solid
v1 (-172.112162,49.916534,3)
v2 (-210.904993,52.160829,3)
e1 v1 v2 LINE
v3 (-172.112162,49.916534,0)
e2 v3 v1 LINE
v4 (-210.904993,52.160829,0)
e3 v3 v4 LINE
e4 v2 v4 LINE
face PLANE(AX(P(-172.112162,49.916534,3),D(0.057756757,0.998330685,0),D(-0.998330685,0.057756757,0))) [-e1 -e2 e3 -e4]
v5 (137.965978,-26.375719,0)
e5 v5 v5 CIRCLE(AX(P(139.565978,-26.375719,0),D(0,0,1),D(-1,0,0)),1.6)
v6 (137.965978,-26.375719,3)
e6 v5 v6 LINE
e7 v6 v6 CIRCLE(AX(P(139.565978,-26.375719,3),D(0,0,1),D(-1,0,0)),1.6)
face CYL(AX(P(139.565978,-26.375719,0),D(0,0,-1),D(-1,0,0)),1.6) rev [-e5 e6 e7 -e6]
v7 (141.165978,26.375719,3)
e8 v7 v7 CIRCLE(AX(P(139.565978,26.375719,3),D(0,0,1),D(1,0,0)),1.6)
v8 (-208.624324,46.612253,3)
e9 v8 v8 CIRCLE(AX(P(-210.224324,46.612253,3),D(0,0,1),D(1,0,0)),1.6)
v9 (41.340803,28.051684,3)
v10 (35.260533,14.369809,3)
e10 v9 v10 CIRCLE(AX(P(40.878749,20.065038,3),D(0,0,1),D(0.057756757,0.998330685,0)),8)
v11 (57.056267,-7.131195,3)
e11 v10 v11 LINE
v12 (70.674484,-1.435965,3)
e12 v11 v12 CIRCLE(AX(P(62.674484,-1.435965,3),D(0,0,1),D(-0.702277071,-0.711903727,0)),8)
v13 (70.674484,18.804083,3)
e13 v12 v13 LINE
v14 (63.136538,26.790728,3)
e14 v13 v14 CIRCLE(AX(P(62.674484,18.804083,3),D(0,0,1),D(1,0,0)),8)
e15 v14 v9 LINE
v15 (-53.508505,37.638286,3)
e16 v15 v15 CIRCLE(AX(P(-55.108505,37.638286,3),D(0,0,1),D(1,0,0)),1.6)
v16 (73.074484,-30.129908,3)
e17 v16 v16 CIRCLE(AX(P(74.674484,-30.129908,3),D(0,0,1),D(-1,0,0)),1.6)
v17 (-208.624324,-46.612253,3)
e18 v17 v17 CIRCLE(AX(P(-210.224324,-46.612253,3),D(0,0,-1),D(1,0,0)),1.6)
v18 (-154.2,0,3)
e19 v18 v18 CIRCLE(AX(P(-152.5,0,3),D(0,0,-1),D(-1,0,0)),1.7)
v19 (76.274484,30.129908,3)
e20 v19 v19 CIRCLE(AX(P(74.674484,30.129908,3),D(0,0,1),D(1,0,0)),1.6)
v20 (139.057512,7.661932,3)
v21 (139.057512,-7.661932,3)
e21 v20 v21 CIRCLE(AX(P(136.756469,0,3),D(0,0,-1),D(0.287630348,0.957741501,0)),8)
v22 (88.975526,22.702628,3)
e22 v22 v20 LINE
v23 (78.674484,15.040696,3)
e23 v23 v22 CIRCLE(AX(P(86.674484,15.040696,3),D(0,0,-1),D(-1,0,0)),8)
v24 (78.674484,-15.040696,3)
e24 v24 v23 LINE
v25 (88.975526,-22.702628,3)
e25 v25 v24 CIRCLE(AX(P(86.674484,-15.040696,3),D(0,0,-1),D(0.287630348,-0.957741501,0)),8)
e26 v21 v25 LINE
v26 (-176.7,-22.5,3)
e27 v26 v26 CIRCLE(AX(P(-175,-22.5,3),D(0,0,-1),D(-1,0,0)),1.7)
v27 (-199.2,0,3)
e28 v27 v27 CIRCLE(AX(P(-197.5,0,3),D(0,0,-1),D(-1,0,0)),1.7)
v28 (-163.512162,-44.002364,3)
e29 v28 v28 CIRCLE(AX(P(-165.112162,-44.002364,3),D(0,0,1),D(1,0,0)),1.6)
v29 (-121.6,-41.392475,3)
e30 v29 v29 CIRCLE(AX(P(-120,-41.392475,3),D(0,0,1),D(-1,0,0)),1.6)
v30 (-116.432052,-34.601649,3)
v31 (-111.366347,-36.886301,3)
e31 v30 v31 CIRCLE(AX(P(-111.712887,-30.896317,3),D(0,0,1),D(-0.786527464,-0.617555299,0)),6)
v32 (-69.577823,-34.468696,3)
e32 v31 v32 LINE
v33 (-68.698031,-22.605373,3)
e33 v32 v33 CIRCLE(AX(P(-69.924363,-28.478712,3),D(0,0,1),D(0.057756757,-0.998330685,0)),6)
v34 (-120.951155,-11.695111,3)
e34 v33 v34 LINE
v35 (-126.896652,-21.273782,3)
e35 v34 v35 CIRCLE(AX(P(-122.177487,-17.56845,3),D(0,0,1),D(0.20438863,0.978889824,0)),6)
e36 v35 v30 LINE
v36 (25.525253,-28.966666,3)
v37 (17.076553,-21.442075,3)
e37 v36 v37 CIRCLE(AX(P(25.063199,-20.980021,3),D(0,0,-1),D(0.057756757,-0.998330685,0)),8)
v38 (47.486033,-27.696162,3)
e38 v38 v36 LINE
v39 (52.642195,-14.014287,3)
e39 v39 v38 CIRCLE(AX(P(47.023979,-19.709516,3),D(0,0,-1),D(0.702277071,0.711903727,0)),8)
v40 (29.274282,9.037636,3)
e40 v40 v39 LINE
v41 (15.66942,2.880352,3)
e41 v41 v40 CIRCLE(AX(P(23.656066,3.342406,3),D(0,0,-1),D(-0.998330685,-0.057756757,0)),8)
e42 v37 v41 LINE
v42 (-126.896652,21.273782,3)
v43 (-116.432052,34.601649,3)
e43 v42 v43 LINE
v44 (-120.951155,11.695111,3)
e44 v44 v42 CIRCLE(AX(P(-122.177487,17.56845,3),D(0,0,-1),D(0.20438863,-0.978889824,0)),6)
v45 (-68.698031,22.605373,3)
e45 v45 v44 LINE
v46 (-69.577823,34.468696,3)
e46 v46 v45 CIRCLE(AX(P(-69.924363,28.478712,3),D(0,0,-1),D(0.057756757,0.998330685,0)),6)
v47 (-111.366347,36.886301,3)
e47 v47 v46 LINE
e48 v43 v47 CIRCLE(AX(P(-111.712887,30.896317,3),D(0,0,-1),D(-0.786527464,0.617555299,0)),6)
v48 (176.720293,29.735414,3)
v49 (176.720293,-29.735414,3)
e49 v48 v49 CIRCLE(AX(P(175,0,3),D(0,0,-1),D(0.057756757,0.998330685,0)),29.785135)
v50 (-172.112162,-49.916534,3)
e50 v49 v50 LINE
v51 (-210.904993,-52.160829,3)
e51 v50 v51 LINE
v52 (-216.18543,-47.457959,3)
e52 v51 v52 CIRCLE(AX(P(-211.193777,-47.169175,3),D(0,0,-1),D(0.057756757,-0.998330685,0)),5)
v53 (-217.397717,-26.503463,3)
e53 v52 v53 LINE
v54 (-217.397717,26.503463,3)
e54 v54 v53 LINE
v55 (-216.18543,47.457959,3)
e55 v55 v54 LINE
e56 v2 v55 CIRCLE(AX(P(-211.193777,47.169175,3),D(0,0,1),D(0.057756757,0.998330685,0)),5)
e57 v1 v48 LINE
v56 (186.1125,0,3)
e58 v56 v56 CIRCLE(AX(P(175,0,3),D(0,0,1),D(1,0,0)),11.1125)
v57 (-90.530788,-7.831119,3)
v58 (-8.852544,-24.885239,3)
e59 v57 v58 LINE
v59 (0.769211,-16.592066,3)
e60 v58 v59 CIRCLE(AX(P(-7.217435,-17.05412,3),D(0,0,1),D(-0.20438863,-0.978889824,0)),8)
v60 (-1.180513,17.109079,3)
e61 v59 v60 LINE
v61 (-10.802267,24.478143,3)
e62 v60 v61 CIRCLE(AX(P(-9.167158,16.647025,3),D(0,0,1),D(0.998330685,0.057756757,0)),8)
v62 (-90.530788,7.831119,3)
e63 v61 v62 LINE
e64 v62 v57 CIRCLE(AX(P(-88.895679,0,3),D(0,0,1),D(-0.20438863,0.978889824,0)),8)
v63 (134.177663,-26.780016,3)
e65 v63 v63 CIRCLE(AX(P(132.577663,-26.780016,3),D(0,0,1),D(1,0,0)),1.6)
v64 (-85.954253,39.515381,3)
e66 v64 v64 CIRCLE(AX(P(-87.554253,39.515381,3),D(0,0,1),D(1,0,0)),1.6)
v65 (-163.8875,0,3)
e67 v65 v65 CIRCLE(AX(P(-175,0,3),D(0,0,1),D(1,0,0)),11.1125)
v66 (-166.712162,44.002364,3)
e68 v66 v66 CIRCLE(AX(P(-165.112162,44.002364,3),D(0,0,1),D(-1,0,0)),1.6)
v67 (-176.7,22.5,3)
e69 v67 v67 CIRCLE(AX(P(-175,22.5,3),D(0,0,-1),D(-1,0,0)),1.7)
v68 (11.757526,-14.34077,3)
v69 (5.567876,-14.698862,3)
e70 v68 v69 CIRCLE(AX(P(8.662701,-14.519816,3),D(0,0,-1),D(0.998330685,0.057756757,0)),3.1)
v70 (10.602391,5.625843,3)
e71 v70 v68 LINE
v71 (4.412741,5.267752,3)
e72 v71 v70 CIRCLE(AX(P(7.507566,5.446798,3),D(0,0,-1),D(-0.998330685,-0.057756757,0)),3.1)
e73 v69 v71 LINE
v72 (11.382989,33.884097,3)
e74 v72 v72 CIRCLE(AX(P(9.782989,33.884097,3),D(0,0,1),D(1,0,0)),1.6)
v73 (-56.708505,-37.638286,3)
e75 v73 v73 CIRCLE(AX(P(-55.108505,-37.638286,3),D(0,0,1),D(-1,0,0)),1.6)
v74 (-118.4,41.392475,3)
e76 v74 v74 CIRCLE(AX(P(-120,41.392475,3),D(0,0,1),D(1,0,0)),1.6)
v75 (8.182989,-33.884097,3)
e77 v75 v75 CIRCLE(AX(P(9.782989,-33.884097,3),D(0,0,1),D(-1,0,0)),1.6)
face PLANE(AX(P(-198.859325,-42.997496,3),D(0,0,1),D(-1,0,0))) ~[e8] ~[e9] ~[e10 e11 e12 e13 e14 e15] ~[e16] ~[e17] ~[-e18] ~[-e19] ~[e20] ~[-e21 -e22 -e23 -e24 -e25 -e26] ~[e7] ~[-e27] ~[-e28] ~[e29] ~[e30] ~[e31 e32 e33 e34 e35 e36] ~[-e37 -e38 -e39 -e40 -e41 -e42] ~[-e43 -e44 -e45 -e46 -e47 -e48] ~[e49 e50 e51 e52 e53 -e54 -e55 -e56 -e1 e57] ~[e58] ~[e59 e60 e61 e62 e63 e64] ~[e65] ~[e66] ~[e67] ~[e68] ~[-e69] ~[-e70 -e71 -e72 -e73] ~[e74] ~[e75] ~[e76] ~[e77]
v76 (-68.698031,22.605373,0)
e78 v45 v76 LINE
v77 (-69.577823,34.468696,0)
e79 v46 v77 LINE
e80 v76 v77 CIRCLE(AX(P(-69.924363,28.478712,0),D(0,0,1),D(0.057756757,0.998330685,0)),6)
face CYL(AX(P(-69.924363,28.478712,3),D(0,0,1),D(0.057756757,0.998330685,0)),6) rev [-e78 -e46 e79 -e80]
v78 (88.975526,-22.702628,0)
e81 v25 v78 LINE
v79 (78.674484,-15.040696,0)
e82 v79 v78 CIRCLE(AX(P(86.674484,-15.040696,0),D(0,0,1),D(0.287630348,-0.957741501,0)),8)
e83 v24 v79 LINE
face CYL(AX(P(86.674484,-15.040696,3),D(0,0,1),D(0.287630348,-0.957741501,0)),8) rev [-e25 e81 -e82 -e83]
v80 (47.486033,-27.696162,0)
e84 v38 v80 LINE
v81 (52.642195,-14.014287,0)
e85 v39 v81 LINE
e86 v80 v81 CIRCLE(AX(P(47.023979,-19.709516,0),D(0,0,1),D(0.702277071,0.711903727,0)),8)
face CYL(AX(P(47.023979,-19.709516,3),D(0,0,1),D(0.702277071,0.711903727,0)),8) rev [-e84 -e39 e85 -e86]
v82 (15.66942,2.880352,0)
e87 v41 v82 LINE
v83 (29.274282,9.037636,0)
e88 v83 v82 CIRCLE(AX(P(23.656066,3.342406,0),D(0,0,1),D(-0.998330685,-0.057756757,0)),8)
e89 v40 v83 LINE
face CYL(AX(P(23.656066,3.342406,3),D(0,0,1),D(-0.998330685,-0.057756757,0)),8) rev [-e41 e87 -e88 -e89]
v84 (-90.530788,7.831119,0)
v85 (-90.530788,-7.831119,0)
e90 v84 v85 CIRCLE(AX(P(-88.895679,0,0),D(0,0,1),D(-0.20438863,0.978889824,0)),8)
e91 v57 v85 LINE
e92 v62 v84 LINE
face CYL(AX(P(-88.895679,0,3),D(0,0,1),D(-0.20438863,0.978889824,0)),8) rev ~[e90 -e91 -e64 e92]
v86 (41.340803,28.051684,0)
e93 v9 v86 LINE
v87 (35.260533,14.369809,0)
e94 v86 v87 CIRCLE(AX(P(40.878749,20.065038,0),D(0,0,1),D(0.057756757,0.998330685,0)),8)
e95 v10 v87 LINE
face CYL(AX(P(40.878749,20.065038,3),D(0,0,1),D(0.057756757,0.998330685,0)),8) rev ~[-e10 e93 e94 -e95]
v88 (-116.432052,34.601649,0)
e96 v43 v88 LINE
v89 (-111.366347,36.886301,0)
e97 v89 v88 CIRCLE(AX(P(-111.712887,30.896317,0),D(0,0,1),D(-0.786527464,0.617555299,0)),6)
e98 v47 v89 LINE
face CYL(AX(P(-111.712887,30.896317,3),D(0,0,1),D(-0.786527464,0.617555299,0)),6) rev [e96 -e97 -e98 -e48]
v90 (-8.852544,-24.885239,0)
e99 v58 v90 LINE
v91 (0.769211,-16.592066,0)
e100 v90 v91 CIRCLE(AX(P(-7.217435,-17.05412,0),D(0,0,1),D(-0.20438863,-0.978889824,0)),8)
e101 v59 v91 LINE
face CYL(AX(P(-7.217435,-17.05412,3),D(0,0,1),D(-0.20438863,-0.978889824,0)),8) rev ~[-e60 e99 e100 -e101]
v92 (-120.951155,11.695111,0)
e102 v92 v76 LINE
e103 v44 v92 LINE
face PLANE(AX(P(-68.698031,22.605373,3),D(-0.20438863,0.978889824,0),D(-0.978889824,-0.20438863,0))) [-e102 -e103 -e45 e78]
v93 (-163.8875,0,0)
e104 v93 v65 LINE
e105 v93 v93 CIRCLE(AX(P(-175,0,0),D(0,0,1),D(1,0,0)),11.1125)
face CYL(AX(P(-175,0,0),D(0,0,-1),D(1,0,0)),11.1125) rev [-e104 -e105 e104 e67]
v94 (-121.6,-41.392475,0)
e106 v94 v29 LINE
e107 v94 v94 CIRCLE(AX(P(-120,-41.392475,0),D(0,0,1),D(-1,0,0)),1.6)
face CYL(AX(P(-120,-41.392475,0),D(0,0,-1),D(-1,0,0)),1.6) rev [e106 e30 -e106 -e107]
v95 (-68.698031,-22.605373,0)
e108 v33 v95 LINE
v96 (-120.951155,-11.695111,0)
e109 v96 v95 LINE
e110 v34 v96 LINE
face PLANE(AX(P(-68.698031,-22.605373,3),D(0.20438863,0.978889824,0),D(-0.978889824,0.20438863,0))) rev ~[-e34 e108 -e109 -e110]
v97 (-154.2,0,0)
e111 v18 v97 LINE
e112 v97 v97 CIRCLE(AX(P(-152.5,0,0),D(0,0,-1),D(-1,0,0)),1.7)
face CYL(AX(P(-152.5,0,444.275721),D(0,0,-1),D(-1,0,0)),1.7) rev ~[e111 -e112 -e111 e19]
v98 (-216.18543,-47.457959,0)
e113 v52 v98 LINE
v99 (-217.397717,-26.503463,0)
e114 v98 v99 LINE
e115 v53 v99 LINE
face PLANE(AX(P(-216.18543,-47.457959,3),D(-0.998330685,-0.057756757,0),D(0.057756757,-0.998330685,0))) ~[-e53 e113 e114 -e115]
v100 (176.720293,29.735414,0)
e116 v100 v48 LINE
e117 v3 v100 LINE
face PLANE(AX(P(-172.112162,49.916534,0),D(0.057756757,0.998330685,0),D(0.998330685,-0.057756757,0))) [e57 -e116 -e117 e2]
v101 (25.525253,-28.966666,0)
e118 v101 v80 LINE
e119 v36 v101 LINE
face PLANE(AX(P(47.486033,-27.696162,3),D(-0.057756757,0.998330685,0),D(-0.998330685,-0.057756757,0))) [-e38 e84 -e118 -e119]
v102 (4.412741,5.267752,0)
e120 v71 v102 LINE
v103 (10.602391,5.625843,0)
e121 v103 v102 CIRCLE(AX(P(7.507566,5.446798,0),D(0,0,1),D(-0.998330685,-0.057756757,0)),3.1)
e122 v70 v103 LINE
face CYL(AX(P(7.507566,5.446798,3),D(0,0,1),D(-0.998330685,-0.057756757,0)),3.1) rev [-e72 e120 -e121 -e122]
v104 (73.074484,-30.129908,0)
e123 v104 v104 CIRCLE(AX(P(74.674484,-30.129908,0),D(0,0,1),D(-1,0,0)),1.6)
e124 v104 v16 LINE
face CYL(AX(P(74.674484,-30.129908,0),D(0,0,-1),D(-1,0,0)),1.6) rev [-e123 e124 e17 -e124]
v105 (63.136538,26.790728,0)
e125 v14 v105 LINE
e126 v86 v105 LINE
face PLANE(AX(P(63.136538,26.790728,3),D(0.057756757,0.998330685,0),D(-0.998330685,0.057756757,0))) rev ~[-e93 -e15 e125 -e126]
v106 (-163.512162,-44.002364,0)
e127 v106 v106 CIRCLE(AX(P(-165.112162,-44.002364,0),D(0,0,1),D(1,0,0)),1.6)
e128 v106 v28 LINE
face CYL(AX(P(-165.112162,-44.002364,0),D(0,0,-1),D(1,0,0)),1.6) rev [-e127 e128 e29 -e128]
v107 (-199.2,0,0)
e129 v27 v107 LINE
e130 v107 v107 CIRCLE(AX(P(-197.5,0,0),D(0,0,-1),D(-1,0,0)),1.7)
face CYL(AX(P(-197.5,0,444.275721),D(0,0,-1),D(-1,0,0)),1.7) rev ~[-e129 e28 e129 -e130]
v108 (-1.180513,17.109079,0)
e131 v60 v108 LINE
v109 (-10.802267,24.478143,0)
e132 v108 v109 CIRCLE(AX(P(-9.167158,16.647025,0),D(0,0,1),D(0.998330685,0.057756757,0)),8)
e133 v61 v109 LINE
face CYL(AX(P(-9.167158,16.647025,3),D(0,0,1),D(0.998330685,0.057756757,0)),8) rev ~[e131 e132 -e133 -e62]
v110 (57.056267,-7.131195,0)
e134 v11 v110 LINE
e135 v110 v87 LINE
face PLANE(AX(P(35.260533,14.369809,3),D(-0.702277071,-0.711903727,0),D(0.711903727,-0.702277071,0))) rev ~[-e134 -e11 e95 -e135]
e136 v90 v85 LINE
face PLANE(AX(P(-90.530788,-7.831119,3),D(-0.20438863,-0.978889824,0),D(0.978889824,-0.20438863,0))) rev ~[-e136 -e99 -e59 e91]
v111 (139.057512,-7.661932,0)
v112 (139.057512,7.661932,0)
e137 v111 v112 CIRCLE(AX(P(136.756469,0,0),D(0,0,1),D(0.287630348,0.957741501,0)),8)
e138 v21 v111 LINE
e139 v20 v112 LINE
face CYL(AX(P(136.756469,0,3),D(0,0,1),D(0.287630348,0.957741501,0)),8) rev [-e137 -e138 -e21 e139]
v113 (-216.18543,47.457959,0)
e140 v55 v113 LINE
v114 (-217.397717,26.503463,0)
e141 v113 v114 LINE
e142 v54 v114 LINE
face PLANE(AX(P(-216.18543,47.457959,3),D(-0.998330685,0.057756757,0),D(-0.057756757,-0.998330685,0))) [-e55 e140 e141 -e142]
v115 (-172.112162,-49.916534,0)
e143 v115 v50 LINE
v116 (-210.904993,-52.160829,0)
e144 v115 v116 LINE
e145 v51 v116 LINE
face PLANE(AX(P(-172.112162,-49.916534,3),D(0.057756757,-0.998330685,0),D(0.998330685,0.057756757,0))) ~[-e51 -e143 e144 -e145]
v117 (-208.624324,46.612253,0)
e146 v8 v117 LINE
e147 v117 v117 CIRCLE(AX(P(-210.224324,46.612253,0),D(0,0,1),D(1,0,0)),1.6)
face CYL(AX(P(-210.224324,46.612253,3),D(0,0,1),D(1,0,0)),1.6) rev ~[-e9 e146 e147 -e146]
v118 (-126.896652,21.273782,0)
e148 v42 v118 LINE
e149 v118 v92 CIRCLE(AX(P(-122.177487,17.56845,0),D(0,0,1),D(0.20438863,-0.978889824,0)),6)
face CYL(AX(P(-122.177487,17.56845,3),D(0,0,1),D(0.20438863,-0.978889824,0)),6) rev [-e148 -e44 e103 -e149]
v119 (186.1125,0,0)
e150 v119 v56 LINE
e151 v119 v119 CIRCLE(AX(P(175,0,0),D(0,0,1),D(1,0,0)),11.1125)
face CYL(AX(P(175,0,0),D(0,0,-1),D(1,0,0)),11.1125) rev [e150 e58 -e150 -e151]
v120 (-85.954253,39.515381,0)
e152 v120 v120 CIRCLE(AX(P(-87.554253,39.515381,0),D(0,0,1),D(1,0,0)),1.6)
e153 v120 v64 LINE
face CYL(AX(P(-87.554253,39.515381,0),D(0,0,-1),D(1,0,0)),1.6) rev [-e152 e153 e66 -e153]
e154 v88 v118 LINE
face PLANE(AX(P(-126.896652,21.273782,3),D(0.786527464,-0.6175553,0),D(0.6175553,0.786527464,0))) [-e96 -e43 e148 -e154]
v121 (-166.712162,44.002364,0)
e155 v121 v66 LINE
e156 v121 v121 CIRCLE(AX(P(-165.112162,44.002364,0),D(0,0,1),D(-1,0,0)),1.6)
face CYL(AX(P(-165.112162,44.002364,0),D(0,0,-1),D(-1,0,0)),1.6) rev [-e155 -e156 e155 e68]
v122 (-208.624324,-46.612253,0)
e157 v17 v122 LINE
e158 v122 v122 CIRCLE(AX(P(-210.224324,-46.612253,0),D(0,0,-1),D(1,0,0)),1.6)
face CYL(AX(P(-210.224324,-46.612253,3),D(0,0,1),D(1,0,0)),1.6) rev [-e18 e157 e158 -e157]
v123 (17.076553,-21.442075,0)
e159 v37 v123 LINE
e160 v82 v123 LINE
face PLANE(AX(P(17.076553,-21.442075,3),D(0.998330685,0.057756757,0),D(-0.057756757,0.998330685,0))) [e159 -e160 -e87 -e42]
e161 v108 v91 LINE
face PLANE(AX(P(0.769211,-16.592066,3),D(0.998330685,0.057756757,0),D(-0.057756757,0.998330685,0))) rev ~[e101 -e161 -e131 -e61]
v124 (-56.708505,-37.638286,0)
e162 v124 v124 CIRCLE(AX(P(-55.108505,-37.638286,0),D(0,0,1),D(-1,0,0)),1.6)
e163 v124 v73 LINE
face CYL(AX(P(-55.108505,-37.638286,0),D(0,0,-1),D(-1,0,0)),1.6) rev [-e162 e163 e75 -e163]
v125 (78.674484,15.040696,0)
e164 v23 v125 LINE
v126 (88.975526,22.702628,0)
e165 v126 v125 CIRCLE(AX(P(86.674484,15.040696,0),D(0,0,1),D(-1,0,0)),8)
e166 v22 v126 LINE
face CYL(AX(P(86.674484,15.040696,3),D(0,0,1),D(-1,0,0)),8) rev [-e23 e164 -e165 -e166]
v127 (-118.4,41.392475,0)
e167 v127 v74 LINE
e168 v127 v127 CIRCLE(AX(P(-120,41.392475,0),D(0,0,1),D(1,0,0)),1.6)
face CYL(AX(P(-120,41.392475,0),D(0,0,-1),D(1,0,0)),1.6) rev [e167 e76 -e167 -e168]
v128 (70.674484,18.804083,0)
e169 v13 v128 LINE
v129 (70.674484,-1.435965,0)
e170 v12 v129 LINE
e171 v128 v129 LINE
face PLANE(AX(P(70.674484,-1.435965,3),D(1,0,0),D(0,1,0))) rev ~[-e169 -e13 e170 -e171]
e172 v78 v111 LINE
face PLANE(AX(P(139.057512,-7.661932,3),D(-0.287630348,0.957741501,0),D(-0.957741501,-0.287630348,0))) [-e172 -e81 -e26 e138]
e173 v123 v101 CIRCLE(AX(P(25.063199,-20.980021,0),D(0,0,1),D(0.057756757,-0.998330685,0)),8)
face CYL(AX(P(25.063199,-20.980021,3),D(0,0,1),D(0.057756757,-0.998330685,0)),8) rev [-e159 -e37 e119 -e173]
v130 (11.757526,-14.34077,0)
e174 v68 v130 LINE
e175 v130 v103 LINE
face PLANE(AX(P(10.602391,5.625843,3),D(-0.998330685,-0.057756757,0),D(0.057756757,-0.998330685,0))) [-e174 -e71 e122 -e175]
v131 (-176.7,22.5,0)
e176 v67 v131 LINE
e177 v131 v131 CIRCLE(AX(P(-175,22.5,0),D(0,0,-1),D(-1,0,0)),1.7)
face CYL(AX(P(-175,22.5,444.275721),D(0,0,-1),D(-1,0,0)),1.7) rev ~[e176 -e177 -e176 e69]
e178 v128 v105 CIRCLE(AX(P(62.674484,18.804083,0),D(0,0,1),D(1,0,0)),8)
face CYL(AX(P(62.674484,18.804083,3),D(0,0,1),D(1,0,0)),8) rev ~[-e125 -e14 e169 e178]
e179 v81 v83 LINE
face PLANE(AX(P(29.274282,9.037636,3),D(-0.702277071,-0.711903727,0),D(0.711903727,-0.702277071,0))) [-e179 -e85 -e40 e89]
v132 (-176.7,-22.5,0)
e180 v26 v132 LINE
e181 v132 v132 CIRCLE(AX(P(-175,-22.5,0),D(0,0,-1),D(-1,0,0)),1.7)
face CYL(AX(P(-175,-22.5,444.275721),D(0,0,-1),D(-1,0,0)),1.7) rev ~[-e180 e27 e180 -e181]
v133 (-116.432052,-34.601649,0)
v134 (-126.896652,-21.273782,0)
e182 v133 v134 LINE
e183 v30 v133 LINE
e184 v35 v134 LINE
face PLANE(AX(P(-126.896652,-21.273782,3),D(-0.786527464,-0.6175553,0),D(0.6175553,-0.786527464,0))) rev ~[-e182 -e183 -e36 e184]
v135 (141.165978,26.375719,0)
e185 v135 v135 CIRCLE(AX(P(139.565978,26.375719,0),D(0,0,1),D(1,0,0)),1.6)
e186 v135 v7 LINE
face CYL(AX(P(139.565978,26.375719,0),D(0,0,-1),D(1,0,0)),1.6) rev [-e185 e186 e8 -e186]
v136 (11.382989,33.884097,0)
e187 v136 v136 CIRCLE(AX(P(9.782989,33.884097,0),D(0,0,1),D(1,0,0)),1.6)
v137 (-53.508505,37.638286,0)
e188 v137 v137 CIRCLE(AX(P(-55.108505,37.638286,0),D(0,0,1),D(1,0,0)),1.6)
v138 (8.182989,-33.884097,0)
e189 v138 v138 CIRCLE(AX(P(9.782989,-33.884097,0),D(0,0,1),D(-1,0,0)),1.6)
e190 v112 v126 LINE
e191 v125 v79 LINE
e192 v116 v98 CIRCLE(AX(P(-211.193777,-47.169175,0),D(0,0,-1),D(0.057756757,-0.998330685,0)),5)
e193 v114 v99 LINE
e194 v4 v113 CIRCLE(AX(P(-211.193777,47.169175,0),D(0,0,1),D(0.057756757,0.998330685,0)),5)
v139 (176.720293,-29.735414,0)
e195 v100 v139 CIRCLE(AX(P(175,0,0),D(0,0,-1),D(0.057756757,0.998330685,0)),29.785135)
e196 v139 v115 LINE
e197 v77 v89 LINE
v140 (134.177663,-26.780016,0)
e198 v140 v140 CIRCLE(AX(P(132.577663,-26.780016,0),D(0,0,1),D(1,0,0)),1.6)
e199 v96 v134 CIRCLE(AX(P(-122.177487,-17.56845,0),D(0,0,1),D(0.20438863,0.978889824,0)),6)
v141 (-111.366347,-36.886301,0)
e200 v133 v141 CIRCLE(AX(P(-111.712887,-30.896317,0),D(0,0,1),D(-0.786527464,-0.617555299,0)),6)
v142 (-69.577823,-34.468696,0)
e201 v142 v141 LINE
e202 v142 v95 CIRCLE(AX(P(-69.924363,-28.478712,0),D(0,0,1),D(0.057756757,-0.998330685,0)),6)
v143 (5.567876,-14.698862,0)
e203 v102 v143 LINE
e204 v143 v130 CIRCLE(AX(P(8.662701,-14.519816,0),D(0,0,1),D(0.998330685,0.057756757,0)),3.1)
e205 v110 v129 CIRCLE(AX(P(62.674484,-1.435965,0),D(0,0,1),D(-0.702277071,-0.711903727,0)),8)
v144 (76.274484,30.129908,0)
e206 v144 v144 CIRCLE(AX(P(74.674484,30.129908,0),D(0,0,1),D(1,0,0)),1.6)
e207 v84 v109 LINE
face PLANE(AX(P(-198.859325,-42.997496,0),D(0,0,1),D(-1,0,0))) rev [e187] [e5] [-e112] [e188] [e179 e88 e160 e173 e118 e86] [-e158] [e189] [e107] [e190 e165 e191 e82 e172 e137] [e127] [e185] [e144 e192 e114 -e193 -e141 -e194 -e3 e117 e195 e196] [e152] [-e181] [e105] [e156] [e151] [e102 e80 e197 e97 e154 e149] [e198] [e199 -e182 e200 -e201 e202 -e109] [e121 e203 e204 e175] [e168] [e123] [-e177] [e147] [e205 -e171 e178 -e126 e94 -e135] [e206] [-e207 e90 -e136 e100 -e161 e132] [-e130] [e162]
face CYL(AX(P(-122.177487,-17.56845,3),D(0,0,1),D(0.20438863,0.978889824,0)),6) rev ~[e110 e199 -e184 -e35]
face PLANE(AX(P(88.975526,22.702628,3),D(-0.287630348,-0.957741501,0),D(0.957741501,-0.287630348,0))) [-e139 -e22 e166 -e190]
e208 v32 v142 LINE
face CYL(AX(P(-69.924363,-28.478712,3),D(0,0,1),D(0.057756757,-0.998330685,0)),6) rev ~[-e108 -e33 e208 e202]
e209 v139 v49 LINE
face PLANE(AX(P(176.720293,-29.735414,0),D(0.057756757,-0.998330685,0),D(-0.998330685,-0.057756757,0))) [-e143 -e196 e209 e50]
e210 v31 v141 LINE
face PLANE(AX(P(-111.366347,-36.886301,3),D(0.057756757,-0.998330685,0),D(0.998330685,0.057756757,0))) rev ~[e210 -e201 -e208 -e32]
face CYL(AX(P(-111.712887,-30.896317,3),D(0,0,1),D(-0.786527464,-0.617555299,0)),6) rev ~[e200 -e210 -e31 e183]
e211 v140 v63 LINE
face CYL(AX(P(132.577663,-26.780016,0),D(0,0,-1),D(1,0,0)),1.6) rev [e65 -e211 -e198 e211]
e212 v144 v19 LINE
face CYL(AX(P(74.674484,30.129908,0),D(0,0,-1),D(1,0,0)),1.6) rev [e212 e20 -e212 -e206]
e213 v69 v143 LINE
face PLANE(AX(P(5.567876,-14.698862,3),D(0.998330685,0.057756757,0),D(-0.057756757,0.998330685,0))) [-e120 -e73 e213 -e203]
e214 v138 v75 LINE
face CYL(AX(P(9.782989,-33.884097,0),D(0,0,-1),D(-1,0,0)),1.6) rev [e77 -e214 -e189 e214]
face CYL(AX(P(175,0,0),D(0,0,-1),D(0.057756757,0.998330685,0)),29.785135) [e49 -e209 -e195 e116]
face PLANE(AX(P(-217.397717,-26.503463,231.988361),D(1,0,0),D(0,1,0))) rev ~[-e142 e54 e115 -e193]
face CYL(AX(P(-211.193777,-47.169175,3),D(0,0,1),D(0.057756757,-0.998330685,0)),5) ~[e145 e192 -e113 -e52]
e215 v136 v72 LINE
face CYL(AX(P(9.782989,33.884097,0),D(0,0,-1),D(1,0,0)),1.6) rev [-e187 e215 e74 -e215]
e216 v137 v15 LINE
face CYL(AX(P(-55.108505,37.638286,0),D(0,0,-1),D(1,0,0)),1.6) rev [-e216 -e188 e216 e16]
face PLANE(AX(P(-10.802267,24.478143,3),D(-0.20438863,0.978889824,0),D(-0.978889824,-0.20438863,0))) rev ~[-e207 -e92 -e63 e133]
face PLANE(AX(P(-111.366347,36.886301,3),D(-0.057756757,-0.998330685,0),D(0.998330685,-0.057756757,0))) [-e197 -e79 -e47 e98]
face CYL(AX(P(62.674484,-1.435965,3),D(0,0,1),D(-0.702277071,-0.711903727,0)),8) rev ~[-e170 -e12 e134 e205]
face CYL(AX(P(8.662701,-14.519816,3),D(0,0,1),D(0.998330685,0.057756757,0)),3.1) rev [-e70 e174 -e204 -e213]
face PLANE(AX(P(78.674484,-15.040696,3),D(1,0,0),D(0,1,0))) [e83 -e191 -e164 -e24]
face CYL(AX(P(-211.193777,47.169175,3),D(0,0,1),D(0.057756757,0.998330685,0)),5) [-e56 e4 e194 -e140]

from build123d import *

# Parameters (mm, degrees)
SKETCH1_R               = 11.1125
SKETCH1_R_2             = 1.6
BOSS_EXTRUDE1_DEPTH     = 3
M3_CLEARANCE_HOLE1_D    = 3.4
CUT_EXTRUDE1_DEPTH      = 10
SKETCH10_R              = 1.6
BOSS_EXTRUDE3_DEPTH     = 3
CUT_EXTRUDE2_DEPTH      = 231.98836087
CUT_EXTRUDE2_DEPTH_BACK = 231.98836087


with BuildPart() as part:
    # Sketch1 → Boss-Extrude1 (new body)
    with BuildSketch(Plane.XY):
        with BuildLine():
            Line((-172.112162162, 49.916534261), (176.720292805, 29.735414369))
            ThreePointArc((176.720292805, 29.735414369), (204.785135135, 0), (176.720292805, -29.735414369))
            Line((176.720292805, -29.735414369), (-172.112162162, -49.916534261))
            ThreePointArc((-172.112162162, -49.916534261), (-225, 0), (-172.112162162, 49.916534261))
        make_face()
        with Locations((175, 0)):
            Circle(SKETCH1_R, mode=Mode.SUBTRACT)
        with Locations((-175, 0)):
            Circle(SKETCH1_R, mode=Mode.SUBTRACT)
        with Locations((-120, 41.392475449)):
            Circle(SKETCH1_R_2, mode=Mode.SUBTRACT)
        with Locations((-55.108505461, 37.63828626)):
            Circle(SKETCH1_R_2, mode=Mode.SUBTRACT)
        with Locations((9.782989078, 33.884097071)):
            Circle(SKETCH1_R_2, mode=Mode.SUBTRACT)
        with Locations((74.674483618, 30.129907882)):
            Circle(SKETCH1_R_2, mode=Mode.SUBTRACT)
        with Locations((139.565978157, 26.375718693)):
            Circle(SKETCH1_R_2, mode=Mode.SUBTRACT)
        with Locations(Location((139.565978157, -26.375718693, 0), (0, 0, 180))):
            Circle(SKETCH1_R_2, mode=Mode.SUBTRACT)
        with Locations(Location((74.674483618, -30.129907882, 0), (0, 0, 180))):
            Circle(SKETCH1_R_2, mode=Mode.SUBTRACT)
        with Locations(Location((9.782989078, -33.884097071, 0), (0, 0, 180))):
            Circle(SKETCH1_R_2, mode=Mode.SUBTRACT)
        with Locations(Location((-55.108505461, -37.63828626, 0), (0, 0, 180))):
            Circle(SKETCH1_R_2, mode=Mode.SUBTRACT)
        with Locations(Location((-120, -41.392475449, 0), (0, 0, 180))):
            Circle(SKETCH1_R_2, mode=Mode.SUBTRACT)
        with Locations((-87.55425273, 39.515380855)):
            Circle(SKETCH1_R_2, mode=Mode.SUBTRACT)
        with Locations((-165.112162162, -44.002364352)):
            Circle(SKETCH1_R_2, mode=Mode.SUBTRACT)
        with Locations(Location((-165.112162162, 44.002364352, 0), (0, 0, 180))):
            Circle(SKETCH1_R_2, mode=Mode.SUBTRACT)
        with Locations((132.57766336, -26.78001599)):
            Circle(SKETCH1_R_2, mode=Mode.SUBTRACT)
    extrude(amount=BOSS_EXTRUDE1_DEPTH)

    # M3 Clearance Hole1 (through all)
    with Locations(Plane.XY.offset(3)):
        with Locations((-197.5, 0), (-175, 22.5), (-152.5, 0), (-175, -22.5)):
            Hole(M3_CLEARANCE_HOLE1_D / 2)

    # Sketch7 → Cut-Extrude1 (cut)
    with BuildSketch(Plane.XY.offset(3)):
        with BuildLine():
            Line((88.975526403, 22.70262828), (139.057512253, 7.661932008))
            ThreePointArc((139.057512253, 7.661932008), (144.756469468, 0), (139.057512253, -7.661932008))
            Line((139.057512253, -7.661932008), (88.975526403, -22.70262828))
            ThreePointArc((88.975526403, -22.70262828), (81.899985858, -21.459743798), (78.674483618, -15.040696272))
            Line((78.674483618, -15.040696272), (78.674483618, 15.040696272))
            ThreePointArc((78.674483618, 15.040696272), (81.899985858, 21.459743798), (88.975526403, 22.70262828))
        make_face()
        with BuildLine():
            Line((70.674483618, -1.435965036), (70.674483618, 18.804082595))
            ThreePointArc((70.674483618, 18.804082595), (68.492405602, 24.295146589), (63.136537672, 26.790728077))
            Line((63.136537672, 26.790728077), (41.340803255, 28.05168394))
            ThreePointArc((41.340803255, 28.05168394), (33.5681452, 23.313895048), (35.260532637, 14.369808645))
            Line((35.260532637, 14.369808645), (57.056267053, -7.13119485))
            ThreePointArc((57.056267053, -7.13119485), (65.761089155, -8.816538609), (70.674483618, -1.435965036))
        make_face()
        with BuildLine():
            Line((29.274282074, 9.037636121), (52.642195402, -14.014286633))
            ThreePointArc((52.642195402, -14.014286633), (54.510022559, -22.530712895), (47.486032892, -27.696161929))
            Line((47.486032892, -27.696161929), (25.525253015, -28.966666222))
            ThreePointArc((25.525253015, -28.966666222), (19.742509337, -26.954153474), (17.076553479, -21.442074794))
            Line((17.076553479, -21.442074794), (15.669420028, 2.880352253))
            ThreePointArc((15.669420028, 2.880352253), (20.357520369, 10.630725727), (29.274282074, 9.037636121))
        make_face()
        with BuildLine():
            Line((0.769210605, -16.592065878), (-1.180512913, 17.109078816))
            ThreePointArc((-1.180512913, 17.109078816), (-4.302872031, 22.998301654), (-10.802267436, 24.478143355))
            Line((-10.802267436, 24.478143355), (-90.530788222, 7.831118593))
            ThreePointArc((-90.530788222, 7.831118593), (-96.895679181, 0), (-90.530788222, -7.831118593))
            Line((-90.530788222, -7.831118593), (-8.852543917, -24.885238525))
            ThreePointArc((-8.852543917, -24.885238525), (-1.994439382, -23.113849139), (0.769210605, -16.592065878))
        make_face()
        with BuildLine():
            Line((5.567875781, -14.698862148), (4.412740646, 5.267751556))
            ThreePointArc((4.412740646, 5.267751556), (7.328519824, 8.541622626), (10.602390894, 5.625843448))
            Line((10.602390894, 5.625843448), (11.757526029, -14.340770256))
            ThreePointArc((11.757526029, -14.340770256), (8.841746851, -17.614641327), (5.567875781, -14.698862148))
        make_face()
        with BuildLine():
            Line((-126.896651592, 21.273781799), (-116.432051872, 34.601649091))
            ThreePointArc((-116.432051872, 34.601649091), (-114.179639962, 36.365789869), (-111.366346547, 36.886301404))
            Line((-111.366346547, 36.886301404), (-69.577822511, 34.468696042))
            ThreePointArc((-69.577822511, 34.468696042), (-63.940794692, 28.922456993), (-68.698031271, 22.605372985))
            Line((-68.698031271, 22.605372985), (-120.951155027, 11.695111055))
            ThreePointArc((-120.951155027, 11.695111055), (-127.275300447, 14.404228754), (-126.896651592, 21.273781799))
        make_face()
        with BuildLine():
            Line((-111.366346547, -36.886301404), (-69.577822511, -34.468696042))
            ThreePointArc((-69.577822511, -34.468696042), (-63.940794692, -28.922456993), (-68.698031271, -22.605372985))
            Line((-68.698031271, -22.605372985), (-120.951155027, -11.695111055))
            ThreePointArc((-120.951155027, -11.695111055), (-127.275300447, -14.404228754), (-126.896651592, -21.273781799))
            Line((-126.896651592, -21.273781799), (-116.432051872, -34.601649091))
            ThreePointArc((-116.432051872, -34.601649091), (-114.179639962, -36.365789869), (-111.366346547, -36.886301404))
        make_face()
    extrude(amount=-CUT_EXTRUDE1_DEPTH, mode=Mode.SUBTRACT)

    # Sketch10 → Boss-Extrude3 (add)
    with BuildSketch(Plane.XY.offset(3)):
        with BuildLine():
            Line((-172.112162162, 49.916534261), (-210.904992847, 52.160828781))
            ThreePointArc((-210.904992847, 52.160828781), (-214.519207646, 50.903008313), (-216.185430057, 47.457959138))
            Line((-216.185430057, 47.457959138), (-217.397717482, 26.503463026))
            Line((-217.397717482, 26.503463026), (-172.112162162, 49.916534261))
        make_face()
        with Locations((-210.224324324, 46.612253255)):
            Circle(SKETCH10_R, mode=Mode.SUBTRACT)
    boss_extrude3 = extrude(amount=-BOSS_EXTRUDE3_DEPTH)

    # Mirror1: Boss-Extrude3 across plane
    add(boss_extrude3.mirror(Plane.ZX))

    # Sketch11 → Cut-Extrude2 (cut, two sides: drawn at the far end of the back side and taken through both)
    with BuildSketch(Plane(origin=(0, 0, 0), x_dir=(-1, 0, 0), z_dir=(0, 0, -1)).offset(-CUT_EXTRUDE2_DEPTH_BACK)):
        with BuildLine():
            Line((217.397717482, -26.503463026), (217.397717482, 26.503463026))
            ThreePointArc((217.397717482, 26.503463026), (225, 0), (217.397717482, -26.503463026))
        make_face()
    extrude(amount=CUT_EXTRUDE2_DEPTH + CUT_EXTRUDE2_DEPTH_BACK, mode=Mode.SUBTRACT)


solid = part.part
